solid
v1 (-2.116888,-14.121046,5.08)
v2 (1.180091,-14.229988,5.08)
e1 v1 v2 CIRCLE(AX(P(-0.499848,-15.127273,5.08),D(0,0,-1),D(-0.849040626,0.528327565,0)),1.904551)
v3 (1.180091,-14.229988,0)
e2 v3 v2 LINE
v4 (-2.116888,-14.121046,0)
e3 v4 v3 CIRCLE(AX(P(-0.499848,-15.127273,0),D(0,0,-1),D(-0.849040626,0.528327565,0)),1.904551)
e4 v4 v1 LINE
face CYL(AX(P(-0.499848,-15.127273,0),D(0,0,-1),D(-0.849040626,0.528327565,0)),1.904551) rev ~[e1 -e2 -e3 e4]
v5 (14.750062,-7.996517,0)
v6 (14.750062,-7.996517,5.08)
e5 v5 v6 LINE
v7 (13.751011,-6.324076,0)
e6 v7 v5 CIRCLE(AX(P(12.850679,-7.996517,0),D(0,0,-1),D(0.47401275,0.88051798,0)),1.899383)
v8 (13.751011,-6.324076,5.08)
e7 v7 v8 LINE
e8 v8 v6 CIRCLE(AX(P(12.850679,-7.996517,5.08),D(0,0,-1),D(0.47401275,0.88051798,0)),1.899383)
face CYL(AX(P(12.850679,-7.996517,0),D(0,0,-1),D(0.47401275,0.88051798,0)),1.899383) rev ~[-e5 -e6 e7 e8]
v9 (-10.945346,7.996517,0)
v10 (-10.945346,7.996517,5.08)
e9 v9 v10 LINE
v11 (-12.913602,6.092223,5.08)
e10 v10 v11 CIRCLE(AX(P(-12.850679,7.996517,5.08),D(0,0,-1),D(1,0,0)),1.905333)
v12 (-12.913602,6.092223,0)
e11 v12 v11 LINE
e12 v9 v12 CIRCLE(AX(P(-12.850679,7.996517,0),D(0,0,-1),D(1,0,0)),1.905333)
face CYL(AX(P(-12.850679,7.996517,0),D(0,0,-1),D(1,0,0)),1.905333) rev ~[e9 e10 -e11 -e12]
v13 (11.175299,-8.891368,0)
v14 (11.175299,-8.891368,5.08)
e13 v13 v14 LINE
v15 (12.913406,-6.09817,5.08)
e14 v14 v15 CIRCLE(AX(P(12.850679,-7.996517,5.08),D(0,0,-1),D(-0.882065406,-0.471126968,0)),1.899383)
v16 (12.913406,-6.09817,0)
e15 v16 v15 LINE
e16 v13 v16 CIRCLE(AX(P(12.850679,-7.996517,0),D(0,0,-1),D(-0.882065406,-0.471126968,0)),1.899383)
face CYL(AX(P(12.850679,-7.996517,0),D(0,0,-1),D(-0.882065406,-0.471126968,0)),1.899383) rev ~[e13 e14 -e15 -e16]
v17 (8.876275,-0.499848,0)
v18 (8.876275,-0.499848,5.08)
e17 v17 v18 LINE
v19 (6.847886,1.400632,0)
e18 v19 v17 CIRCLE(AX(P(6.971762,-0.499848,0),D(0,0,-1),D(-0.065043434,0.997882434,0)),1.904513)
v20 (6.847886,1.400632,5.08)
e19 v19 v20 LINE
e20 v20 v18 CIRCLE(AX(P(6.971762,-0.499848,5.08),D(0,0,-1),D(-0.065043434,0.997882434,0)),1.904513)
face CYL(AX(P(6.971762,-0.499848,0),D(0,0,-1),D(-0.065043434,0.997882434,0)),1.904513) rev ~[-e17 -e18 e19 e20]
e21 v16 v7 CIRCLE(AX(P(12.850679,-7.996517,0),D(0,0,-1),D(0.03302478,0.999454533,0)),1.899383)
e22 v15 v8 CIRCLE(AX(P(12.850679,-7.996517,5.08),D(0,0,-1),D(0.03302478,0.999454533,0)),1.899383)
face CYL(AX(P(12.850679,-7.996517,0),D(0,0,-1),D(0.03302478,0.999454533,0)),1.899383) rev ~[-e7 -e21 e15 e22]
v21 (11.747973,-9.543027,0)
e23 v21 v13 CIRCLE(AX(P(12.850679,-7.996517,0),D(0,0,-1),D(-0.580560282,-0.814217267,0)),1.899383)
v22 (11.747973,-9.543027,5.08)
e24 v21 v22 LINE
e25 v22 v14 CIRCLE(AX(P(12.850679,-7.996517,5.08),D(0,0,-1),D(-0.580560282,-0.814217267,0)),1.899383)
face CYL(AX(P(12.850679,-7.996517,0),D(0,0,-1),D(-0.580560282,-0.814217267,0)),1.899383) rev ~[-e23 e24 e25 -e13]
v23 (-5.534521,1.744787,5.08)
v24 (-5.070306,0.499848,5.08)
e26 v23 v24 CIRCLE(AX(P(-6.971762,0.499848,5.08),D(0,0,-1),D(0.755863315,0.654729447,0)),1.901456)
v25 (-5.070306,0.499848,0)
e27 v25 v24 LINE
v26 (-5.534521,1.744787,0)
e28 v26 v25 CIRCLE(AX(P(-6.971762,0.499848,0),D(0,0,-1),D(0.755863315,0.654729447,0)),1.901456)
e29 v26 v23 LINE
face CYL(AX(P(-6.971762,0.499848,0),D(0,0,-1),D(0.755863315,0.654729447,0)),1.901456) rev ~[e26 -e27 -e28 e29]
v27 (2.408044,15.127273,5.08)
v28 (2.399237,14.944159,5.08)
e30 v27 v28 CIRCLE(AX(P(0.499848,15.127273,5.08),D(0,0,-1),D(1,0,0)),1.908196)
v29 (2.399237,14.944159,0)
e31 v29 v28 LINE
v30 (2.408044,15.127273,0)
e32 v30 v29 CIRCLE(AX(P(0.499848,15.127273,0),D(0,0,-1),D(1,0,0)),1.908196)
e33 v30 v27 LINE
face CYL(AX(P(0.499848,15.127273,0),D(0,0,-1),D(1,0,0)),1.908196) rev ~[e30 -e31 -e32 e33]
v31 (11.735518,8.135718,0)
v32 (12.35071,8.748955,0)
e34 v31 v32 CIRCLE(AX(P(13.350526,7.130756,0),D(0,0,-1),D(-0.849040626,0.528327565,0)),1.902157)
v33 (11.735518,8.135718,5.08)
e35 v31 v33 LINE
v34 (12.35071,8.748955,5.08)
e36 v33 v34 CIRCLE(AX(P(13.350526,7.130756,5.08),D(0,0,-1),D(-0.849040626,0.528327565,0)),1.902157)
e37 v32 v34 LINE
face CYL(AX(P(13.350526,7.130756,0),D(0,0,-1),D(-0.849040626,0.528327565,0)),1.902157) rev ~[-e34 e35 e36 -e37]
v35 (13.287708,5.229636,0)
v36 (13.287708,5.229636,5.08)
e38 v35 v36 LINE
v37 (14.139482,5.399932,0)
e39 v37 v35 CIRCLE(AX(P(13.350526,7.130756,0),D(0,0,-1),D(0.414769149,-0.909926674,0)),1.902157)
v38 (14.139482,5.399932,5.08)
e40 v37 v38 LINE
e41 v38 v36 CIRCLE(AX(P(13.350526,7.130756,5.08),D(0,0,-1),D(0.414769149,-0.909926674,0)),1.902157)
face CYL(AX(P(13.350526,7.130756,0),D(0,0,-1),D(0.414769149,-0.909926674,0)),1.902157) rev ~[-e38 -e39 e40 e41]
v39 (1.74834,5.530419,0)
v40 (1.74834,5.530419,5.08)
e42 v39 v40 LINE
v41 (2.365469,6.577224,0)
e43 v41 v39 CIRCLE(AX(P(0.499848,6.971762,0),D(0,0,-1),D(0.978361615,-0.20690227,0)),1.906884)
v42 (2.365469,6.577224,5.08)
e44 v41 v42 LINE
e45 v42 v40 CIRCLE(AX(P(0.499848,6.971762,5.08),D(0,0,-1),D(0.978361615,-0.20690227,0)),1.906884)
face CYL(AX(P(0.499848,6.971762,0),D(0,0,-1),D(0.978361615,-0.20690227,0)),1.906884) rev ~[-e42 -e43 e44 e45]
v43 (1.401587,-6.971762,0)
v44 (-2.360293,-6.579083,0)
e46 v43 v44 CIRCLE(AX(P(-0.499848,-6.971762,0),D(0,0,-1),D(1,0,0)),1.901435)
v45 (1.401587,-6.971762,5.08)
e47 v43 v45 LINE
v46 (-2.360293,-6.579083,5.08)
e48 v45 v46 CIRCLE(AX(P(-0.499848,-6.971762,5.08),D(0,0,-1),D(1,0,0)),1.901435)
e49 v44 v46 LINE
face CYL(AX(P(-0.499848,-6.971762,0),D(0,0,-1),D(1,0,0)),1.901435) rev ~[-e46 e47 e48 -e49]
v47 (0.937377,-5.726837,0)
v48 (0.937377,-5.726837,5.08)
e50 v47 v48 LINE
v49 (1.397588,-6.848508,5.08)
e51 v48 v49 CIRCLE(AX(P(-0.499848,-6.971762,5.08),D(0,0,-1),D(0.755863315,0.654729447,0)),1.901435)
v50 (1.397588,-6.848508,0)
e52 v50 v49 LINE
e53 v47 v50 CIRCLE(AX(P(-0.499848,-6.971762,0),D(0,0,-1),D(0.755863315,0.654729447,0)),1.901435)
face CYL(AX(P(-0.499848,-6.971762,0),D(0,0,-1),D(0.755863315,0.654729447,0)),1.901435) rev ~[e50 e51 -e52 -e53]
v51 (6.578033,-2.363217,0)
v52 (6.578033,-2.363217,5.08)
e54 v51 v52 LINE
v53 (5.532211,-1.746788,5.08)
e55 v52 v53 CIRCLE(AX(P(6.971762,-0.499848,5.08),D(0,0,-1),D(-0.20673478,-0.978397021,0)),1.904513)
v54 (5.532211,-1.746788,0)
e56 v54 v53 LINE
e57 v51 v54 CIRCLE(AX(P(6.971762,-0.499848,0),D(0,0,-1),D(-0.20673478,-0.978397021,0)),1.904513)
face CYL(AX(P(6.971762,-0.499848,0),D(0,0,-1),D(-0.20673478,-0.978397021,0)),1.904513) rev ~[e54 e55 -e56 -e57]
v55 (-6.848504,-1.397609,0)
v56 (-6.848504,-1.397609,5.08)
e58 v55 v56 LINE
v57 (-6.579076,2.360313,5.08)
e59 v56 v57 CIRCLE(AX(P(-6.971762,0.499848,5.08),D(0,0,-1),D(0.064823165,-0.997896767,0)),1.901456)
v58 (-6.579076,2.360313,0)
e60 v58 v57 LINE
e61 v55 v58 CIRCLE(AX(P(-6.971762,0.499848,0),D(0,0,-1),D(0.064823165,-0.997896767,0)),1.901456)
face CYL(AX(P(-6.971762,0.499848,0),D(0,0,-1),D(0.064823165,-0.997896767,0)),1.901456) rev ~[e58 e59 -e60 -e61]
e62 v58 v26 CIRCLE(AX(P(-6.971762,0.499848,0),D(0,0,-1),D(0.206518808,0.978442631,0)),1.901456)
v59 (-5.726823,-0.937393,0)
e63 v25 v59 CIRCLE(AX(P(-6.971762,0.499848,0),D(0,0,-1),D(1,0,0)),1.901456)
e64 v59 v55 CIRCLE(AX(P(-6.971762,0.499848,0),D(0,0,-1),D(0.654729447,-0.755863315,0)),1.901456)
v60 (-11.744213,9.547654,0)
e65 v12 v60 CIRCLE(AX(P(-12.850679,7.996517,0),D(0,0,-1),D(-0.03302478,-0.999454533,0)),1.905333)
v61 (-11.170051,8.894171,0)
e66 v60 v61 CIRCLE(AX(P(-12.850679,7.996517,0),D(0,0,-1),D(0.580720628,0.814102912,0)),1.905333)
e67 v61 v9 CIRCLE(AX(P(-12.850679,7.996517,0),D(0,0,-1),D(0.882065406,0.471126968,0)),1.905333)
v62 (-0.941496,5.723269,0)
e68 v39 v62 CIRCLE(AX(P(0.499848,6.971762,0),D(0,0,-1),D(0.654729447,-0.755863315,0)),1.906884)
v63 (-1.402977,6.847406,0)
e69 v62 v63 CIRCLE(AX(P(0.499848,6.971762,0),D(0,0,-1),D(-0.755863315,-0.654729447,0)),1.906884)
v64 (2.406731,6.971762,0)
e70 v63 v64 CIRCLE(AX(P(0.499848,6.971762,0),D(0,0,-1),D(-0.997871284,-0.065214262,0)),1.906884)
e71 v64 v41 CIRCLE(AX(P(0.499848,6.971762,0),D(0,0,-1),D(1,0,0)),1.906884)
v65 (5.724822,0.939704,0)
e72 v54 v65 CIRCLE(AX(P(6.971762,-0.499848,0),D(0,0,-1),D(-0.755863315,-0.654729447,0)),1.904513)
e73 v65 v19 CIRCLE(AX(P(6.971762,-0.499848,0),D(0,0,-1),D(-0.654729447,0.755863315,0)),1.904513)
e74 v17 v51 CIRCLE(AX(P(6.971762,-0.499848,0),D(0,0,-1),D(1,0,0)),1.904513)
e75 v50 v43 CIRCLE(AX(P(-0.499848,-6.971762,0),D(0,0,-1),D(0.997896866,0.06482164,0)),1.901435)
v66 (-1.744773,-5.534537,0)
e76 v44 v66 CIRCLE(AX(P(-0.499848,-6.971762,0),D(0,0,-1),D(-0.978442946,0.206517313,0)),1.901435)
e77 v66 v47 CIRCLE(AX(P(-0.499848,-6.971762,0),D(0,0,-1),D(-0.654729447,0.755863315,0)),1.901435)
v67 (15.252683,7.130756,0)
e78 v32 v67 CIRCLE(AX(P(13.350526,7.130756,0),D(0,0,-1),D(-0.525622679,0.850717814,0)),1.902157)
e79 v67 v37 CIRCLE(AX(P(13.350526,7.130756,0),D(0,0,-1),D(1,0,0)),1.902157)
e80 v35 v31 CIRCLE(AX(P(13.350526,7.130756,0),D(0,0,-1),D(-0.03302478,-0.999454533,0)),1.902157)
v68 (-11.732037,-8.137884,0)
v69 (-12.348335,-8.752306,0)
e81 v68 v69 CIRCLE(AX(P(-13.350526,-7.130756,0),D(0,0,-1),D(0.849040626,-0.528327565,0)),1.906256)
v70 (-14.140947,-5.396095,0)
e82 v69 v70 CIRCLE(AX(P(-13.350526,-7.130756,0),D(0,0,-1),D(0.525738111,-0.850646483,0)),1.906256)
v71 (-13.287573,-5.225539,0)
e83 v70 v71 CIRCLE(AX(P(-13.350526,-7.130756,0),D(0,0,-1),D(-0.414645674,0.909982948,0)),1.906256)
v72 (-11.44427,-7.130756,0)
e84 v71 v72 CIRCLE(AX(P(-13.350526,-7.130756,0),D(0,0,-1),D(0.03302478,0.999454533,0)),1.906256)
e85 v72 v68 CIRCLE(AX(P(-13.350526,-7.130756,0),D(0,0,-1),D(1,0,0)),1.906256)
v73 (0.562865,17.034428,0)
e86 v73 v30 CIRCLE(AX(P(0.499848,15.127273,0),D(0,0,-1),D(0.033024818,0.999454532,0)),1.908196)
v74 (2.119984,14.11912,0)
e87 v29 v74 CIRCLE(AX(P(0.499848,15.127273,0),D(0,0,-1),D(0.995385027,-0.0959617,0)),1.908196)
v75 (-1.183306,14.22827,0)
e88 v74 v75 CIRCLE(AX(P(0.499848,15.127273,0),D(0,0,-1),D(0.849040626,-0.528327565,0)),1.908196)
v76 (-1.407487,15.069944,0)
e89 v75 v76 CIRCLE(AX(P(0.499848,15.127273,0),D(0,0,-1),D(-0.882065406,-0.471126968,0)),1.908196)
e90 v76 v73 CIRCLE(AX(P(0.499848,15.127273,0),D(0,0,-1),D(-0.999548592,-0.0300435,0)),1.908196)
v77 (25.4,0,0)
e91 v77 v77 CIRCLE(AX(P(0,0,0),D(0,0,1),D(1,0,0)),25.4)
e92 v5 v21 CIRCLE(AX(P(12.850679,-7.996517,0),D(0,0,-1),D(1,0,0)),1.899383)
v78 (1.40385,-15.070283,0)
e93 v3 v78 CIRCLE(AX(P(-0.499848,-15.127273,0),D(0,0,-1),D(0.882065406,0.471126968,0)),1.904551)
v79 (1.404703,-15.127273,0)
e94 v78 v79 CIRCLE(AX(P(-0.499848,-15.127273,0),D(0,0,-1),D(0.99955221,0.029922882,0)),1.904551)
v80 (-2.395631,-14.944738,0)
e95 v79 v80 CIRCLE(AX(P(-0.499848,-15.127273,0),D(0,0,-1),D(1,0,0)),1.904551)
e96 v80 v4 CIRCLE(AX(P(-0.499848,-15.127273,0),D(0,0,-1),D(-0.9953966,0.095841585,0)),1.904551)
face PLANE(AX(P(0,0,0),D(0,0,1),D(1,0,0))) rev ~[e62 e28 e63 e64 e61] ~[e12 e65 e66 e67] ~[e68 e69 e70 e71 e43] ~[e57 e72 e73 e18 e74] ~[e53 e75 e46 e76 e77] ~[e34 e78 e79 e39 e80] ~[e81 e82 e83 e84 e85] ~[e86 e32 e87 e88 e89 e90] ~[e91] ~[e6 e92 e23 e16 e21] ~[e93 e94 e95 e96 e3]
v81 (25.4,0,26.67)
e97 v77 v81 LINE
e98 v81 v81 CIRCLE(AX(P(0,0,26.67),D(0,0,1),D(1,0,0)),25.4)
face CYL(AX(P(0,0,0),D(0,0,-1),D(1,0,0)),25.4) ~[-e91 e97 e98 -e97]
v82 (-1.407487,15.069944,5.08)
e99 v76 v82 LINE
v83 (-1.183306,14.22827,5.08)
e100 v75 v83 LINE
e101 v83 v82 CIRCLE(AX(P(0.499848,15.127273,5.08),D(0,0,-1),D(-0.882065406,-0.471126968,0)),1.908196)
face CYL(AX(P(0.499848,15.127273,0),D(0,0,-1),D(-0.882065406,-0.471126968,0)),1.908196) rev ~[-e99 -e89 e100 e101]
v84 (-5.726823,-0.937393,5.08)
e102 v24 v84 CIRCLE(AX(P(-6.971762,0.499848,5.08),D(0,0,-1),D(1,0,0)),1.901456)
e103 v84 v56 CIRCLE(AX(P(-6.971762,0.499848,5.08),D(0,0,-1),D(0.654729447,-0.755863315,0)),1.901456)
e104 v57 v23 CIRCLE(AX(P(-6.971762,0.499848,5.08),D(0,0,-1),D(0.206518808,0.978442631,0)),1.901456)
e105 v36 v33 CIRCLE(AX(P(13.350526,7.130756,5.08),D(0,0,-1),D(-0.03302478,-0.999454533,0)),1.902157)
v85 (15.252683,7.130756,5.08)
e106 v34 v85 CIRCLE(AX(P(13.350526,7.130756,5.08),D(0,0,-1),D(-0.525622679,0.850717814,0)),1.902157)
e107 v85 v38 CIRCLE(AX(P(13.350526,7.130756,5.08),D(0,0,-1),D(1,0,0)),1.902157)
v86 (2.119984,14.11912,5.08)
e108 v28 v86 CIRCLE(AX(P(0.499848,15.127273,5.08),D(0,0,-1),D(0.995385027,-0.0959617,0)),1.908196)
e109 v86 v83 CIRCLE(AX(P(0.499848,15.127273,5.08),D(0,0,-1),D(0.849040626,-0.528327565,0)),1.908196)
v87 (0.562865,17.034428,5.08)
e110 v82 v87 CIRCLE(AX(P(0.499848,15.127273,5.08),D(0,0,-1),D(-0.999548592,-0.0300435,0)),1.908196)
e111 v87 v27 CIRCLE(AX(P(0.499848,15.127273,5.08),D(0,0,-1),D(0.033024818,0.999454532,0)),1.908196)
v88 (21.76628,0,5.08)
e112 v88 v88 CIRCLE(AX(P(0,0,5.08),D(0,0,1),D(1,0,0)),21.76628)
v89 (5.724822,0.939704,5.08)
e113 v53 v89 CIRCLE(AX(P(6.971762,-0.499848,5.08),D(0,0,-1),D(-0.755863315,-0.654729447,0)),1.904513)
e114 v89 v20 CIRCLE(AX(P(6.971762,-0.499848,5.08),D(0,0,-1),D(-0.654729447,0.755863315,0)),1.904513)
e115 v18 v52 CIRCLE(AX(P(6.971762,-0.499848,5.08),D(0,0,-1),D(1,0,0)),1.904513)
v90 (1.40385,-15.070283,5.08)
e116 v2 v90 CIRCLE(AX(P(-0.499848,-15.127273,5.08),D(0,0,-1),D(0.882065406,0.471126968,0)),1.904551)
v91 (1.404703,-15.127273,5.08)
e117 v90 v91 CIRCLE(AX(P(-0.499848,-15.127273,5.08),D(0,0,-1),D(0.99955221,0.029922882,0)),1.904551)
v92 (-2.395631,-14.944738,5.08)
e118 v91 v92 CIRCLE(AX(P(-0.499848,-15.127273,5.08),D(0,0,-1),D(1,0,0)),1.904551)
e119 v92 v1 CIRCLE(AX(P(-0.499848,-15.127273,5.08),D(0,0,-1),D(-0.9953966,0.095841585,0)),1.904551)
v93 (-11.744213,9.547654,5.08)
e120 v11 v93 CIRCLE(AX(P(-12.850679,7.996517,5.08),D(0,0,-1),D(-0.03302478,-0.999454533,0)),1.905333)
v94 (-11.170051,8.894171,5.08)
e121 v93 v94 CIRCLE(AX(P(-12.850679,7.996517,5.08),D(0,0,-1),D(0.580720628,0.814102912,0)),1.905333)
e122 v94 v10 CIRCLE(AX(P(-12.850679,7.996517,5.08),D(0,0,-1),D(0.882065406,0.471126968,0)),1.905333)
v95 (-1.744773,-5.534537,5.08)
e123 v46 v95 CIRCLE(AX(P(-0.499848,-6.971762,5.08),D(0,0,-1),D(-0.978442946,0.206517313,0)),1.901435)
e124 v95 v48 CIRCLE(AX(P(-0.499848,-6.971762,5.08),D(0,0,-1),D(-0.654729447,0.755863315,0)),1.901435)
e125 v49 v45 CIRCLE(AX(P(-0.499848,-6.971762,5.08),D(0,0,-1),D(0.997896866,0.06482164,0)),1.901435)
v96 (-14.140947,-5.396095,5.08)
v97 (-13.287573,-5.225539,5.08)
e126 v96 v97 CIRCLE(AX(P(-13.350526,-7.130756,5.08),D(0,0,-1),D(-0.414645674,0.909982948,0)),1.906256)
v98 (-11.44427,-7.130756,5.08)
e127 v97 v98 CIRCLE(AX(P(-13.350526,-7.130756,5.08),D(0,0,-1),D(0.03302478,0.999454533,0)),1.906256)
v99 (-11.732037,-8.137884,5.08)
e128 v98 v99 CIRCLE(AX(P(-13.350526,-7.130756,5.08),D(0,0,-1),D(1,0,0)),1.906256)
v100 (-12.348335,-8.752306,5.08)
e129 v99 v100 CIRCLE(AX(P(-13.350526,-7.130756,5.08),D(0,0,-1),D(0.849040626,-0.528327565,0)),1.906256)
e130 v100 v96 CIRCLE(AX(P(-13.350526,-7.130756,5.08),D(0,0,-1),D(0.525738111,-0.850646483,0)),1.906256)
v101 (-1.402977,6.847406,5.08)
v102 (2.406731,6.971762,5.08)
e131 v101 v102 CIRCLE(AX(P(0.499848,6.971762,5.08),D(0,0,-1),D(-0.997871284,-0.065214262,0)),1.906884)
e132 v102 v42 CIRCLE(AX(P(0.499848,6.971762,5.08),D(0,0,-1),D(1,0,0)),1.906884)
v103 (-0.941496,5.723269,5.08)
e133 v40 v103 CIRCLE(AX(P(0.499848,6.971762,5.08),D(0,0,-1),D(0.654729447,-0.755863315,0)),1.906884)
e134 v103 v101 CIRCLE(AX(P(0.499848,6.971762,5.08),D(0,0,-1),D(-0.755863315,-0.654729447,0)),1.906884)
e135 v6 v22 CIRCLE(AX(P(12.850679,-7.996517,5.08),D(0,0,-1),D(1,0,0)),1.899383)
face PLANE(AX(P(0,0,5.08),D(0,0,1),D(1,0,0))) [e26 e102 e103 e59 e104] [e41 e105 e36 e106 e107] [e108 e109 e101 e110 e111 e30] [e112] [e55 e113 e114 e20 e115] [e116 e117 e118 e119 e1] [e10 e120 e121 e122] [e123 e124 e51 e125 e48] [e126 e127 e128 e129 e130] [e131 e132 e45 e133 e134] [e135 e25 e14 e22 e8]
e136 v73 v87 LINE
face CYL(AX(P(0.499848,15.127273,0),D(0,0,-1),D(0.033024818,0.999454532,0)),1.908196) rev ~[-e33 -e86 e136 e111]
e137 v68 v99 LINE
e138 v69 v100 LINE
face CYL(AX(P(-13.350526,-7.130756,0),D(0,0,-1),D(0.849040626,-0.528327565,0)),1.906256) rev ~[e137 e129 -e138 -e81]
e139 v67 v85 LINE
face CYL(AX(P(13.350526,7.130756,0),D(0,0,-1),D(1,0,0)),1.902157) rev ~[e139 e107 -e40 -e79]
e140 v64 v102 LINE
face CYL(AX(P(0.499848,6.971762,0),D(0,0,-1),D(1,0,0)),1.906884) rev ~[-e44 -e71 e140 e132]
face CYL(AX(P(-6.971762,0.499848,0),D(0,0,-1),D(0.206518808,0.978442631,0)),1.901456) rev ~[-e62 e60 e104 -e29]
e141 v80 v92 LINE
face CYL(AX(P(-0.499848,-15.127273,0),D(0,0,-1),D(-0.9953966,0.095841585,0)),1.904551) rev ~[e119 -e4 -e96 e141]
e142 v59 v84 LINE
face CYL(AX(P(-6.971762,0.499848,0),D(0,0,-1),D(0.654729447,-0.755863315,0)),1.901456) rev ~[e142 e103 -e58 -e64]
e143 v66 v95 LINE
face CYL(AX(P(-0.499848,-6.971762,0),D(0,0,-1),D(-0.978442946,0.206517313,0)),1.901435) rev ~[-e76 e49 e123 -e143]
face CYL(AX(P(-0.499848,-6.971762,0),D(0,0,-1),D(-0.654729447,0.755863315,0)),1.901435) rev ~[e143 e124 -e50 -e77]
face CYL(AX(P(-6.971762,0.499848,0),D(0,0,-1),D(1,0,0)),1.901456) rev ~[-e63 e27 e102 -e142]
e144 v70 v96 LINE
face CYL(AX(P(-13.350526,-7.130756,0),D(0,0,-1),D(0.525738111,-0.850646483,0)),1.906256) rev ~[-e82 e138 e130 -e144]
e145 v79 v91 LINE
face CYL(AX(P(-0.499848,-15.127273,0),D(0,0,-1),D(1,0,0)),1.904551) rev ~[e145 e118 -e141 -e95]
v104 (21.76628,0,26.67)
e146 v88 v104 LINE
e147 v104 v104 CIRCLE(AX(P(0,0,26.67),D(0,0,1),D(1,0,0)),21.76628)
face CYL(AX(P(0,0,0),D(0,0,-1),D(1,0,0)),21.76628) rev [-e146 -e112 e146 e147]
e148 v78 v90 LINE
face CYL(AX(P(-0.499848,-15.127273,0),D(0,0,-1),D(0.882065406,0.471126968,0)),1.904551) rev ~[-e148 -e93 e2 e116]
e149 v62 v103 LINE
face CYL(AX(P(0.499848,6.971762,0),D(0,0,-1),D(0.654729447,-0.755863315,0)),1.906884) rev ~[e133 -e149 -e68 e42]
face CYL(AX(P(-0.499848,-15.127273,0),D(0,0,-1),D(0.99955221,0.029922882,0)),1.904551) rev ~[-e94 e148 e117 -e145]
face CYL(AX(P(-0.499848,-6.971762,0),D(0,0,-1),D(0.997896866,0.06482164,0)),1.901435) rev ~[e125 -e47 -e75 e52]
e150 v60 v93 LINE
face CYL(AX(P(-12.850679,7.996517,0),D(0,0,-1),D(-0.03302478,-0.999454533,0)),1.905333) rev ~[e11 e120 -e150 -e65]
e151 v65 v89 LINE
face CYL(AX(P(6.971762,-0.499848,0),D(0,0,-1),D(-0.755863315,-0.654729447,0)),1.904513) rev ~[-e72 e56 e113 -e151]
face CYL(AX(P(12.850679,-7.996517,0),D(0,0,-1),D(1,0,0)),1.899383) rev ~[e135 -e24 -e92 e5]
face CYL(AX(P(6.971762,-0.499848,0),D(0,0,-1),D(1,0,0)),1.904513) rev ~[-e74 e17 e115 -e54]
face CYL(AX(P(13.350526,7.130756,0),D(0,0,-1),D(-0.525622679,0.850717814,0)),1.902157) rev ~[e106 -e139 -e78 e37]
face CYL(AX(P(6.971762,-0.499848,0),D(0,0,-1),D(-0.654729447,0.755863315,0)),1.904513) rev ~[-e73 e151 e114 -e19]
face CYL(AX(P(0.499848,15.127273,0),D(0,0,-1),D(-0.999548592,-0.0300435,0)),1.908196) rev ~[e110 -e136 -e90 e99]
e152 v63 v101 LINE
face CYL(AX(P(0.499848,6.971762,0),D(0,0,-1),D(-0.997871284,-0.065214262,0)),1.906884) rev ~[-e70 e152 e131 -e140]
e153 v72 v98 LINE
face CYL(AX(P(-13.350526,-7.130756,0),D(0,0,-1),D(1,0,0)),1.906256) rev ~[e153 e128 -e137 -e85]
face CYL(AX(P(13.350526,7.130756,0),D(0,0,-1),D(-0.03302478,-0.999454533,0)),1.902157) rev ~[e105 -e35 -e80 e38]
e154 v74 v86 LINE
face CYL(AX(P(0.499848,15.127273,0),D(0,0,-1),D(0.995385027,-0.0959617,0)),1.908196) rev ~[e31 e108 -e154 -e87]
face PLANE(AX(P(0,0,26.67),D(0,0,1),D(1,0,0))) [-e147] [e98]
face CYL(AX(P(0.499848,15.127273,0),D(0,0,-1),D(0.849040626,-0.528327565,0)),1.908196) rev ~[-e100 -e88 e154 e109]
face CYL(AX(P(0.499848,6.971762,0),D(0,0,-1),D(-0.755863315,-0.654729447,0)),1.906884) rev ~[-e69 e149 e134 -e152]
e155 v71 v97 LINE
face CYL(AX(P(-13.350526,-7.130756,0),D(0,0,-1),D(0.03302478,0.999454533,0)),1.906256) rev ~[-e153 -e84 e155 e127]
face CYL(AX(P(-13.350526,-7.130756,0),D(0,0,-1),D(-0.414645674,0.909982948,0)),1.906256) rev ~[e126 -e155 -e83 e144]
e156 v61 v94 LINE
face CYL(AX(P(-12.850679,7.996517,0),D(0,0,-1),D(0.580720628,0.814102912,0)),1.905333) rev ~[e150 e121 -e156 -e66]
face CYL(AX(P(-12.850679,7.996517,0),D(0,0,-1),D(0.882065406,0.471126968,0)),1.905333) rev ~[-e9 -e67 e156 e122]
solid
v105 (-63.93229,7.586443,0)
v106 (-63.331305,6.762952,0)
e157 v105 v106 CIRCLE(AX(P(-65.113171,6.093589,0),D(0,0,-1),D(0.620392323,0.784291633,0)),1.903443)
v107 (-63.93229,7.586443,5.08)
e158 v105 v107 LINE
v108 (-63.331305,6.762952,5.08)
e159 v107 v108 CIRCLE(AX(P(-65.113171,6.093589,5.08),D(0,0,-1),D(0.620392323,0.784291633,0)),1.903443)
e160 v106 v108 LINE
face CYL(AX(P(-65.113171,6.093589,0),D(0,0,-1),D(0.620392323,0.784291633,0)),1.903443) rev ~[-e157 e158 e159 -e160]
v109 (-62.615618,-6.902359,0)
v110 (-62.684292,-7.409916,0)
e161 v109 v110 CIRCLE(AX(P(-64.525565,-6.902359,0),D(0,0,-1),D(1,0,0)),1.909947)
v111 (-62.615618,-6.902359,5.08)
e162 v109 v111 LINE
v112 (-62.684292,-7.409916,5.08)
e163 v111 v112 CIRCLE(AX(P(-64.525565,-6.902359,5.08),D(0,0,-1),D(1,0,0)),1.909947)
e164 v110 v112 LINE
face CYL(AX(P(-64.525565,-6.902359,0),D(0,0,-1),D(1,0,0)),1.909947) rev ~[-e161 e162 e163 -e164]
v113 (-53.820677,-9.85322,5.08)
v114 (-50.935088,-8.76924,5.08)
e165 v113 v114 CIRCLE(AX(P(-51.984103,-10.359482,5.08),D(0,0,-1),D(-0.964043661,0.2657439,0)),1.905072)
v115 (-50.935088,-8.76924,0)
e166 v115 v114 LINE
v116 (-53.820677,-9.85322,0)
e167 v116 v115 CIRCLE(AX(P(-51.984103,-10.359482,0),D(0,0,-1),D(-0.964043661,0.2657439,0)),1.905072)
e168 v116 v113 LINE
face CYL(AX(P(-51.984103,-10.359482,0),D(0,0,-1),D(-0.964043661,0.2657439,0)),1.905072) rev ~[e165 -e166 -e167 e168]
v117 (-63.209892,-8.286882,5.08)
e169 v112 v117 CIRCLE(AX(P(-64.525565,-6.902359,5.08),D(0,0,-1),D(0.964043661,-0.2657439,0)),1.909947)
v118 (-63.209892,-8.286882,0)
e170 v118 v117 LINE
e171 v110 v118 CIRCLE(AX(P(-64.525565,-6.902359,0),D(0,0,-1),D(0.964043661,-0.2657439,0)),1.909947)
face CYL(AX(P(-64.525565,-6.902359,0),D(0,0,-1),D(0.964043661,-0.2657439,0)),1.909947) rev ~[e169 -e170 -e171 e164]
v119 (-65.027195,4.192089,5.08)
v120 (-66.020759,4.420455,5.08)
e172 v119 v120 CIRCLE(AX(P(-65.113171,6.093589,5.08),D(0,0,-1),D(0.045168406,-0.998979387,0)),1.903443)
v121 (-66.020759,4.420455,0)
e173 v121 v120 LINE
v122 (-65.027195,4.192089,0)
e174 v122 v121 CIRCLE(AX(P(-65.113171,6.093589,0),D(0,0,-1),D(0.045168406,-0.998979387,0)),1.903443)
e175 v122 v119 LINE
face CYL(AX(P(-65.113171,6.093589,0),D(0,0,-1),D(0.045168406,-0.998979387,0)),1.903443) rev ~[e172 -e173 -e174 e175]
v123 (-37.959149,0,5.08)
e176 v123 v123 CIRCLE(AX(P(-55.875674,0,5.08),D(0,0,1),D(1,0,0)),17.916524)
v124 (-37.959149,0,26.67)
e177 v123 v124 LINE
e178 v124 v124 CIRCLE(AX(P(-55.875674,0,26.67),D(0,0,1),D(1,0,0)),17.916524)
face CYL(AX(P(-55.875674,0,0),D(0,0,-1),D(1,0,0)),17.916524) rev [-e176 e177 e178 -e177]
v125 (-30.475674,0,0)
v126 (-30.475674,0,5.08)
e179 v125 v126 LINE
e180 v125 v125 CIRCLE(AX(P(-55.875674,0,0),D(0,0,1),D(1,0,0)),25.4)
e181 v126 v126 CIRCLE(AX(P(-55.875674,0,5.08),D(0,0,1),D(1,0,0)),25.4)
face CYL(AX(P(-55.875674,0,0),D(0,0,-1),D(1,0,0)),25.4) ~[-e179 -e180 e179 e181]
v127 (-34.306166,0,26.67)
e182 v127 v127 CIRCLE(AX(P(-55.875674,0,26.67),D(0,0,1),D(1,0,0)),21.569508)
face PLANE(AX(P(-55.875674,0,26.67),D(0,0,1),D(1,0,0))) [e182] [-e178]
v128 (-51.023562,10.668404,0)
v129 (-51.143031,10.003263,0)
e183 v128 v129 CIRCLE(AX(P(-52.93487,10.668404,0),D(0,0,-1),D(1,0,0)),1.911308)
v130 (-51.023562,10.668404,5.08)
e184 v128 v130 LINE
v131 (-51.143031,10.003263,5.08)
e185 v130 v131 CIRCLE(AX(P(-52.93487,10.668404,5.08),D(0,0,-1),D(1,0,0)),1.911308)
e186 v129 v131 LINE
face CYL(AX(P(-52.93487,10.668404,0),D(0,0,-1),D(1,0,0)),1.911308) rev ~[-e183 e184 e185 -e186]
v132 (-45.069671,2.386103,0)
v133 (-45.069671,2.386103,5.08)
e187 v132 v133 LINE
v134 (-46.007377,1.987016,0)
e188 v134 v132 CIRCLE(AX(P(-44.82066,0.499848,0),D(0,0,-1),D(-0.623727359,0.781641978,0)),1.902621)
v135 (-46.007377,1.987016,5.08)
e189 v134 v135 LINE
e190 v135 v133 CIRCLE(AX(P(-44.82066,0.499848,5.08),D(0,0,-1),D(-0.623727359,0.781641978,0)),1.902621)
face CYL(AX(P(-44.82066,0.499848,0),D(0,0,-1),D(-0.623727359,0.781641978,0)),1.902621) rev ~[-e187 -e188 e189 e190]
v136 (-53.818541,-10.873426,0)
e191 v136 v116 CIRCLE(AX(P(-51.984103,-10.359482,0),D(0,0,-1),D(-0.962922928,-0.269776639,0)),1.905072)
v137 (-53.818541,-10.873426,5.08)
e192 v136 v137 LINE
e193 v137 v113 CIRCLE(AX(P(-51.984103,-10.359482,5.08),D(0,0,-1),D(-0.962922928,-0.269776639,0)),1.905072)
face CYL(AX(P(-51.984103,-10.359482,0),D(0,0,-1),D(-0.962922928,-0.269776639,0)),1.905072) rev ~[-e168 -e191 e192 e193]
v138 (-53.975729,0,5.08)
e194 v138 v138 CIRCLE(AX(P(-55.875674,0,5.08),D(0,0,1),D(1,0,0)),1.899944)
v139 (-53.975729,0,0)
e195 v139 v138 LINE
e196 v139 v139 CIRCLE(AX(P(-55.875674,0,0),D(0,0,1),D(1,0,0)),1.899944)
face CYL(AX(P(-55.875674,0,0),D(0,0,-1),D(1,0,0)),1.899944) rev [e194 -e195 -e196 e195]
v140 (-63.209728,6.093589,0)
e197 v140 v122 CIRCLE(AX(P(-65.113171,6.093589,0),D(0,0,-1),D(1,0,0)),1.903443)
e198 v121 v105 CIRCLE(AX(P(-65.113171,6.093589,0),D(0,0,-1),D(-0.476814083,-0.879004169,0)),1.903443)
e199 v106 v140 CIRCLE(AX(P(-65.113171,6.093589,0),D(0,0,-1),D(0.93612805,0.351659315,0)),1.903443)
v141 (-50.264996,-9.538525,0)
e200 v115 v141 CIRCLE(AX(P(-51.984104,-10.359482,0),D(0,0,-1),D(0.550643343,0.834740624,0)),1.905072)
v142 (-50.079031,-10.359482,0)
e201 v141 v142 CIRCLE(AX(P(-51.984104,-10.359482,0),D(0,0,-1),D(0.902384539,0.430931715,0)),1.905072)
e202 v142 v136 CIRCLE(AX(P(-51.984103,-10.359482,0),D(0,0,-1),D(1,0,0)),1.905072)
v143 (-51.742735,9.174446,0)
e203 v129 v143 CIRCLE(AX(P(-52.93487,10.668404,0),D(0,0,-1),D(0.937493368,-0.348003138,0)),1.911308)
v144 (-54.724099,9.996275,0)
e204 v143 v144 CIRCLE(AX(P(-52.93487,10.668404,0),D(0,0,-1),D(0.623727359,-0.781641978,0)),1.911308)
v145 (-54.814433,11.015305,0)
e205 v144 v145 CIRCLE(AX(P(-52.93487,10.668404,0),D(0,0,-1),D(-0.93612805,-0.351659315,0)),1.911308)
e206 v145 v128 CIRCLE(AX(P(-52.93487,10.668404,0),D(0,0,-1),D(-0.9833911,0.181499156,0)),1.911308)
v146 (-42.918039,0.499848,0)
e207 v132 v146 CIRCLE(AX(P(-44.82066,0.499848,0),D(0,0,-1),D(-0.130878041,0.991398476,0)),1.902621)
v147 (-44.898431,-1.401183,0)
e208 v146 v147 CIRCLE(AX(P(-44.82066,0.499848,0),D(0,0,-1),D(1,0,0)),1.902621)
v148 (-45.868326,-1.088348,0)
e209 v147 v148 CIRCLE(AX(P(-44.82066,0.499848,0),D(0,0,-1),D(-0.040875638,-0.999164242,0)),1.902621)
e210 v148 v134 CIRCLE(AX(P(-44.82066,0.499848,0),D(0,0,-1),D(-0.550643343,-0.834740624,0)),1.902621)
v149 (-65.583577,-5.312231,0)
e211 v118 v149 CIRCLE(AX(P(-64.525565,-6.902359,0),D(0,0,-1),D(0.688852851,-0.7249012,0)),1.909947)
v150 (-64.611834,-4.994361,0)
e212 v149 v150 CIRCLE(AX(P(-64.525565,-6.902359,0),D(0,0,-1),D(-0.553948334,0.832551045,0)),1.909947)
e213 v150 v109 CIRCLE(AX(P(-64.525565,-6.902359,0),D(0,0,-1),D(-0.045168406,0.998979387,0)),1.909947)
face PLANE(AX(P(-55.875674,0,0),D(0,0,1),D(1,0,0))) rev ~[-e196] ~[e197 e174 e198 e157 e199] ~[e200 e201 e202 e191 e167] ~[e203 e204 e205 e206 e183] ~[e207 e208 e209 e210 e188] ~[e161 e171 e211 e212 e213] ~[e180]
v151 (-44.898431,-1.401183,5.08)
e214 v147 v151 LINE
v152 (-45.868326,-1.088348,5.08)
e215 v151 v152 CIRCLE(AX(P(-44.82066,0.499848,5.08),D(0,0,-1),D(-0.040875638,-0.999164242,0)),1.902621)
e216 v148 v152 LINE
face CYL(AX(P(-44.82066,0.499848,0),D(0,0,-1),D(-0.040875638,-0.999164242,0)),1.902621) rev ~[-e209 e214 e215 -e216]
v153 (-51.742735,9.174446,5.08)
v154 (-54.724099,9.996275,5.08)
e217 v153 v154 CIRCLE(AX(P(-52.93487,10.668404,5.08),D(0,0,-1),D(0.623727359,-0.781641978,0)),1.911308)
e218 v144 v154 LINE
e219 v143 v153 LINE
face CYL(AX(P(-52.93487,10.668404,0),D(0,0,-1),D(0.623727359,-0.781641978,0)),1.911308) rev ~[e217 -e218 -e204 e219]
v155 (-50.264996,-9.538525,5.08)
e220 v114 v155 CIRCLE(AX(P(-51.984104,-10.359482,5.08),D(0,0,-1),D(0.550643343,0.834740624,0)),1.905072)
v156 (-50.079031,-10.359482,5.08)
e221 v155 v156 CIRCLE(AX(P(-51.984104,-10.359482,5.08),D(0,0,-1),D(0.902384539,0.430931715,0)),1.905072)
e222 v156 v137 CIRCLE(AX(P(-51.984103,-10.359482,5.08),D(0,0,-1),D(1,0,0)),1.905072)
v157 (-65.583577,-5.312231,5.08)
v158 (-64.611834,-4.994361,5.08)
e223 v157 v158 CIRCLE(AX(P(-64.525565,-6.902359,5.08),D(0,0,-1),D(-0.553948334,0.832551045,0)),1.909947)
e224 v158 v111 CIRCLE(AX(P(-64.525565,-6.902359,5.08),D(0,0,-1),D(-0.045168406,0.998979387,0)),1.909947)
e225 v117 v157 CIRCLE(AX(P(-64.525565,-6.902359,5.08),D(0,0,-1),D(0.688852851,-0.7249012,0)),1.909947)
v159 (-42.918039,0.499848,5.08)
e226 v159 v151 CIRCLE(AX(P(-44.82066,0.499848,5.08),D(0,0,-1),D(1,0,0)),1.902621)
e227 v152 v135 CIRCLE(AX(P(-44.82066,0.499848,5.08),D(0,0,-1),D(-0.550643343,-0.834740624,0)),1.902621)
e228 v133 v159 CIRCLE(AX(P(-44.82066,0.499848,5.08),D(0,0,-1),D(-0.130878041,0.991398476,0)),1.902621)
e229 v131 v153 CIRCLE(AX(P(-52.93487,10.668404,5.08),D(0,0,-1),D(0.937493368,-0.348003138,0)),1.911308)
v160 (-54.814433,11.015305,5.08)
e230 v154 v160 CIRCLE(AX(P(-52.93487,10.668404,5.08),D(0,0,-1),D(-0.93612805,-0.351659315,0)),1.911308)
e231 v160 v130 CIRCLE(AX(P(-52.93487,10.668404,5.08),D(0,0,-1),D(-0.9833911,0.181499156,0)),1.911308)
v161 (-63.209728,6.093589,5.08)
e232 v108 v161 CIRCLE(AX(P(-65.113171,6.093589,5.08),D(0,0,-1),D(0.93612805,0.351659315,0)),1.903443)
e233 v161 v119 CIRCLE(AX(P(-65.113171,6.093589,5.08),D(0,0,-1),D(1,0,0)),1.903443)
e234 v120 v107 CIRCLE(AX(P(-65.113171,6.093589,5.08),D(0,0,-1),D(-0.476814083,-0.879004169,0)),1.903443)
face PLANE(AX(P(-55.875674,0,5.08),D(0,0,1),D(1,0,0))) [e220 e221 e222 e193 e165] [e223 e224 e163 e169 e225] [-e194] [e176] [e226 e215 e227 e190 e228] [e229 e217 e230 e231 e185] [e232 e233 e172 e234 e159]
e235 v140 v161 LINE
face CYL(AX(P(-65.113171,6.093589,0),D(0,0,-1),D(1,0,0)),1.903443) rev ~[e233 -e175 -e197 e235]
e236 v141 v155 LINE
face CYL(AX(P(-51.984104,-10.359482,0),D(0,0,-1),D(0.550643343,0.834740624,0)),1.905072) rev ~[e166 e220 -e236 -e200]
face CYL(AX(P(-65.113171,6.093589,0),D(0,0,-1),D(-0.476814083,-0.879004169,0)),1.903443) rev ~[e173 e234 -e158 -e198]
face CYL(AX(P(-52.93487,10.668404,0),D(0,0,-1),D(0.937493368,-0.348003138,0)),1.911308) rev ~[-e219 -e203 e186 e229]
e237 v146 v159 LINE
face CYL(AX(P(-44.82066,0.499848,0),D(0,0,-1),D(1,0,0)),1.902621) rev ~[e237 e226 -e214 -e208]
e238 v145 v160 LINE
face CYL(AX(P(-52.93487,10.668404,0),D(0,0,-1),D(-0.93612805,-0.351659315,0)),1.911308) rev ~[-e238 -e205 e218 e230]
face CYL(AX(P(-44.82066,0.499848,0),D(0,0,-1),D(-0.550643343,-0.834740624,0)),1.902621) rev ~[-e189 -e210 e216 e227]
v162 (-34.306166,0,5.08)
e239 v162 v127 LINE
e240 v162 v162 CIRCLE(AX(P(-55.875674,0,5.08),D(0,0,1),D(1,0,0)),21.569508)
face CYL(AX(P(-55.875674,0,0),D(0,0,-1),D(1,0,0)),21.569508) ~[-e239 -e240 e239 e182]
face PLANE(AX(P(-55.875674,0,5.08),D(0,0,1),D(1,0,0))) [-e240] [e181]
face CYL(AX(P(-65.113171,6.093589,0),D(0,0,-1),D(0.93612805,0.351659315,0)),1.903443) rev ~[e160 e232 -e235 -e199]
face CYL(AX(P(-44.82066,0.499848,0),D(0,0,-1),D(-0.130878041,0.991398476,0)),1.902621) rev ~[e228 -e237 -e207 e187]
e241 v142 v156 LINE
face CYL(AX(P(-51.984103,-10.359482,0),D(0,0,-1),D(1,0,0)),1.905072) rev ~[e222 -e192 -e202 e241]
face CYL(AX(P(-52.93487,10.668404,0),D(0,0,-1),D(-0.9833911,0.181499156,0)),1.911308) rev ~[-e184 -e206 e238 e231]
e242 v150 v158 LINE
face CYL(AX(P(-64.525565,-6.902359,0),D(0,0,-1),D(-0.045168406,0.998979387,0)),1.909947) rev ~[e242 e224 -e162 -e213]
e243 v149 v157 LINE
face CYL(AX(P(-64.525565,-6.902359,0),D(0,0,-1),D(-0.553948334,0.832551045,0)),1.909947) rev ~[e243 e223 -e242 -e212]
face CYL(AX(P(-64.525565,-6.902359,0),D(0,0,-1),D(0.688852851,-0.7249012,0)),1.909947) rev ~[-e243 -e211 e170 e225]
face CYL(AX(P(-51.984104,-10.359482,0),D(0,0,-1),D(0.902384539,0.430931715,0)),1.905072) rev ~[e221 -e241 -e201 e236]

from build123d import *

# Parameters (mm, degrees)
F0_R     = 25.4
F0_R_2   = 21.5695083881
F1_DEPTH = 5.08
F0_R_3   = 17.9165244299
F0_R_4   = 1.8999444821
F0_R_5   = 21.7662801058
F2_DEPTH = 26.67


with BuildPart() as f1:
    # F0 (on Top) → F1 (new body)
    with BuildSketch(Plane.XY):
        with Locations((-55.8756738901, 0)):
            Circle(F0_R)
        with Locations((-55.8756738901, 0)):
            Circle(F0_R_2, mode=Mode.SUBTRACT)
    extrude(amount=F1_DEPTH)



with BuildPart() as f1b:
    # F0 (on Top) → F1, piece 2 (new body)
    with BuildSketch(Plane.XY):
        with Locations((-55.8756738901, 0)):
            Circle(F0_R_3)
        with BuildLine():
            ThreePointArc((-42.9180390286, 0.4998475098), (-43.5030868354, -0.8727294607), (-44.8984308655, -1.4011833506))
            ThreePointArc((-44.8984308655, -1.4011833506), (-46.6374994085, -6.0925619776), (-50.2649955772, -9.5385254663))
            ThreePointArc((-50.2649955772, -9.5385254663), (-50.1261037465, -9.9386040135), (-50.0790310525, -10.3594816039))
            ThreePointArc((-50.0790310525, -10.3594816039), (-51.7247158978, -12.2468128152), (-53.8185414385, -10.873425646))
            ThreePointArc((-53.8185414385, -10.873425646), (-58.8141191908, -10.669054242), (-63.2098923558, -8.2868823269))
            ThreePointArc((-63.2098923558, -8.2868823269), (-66.0184599642, -8.0936456242), (-65.583577107, -5.3122306364))
            ThreePointArc((-65.583577107, -5.3122306364), (-66.9308347254, -0.4965864577), (-66.0207593295, 4.420454799))
            ThreePointArc((-66.0207593295, 4.420454799), (-66.7020520383, 7.1417071115), (-63.9322896574, 7.5864432761))
            ThreePointArc((-63.9322896574, 7.5864432761), (-59.7709391989, 10.3580928446), (-54.814433277, 11.0153051508))
            ThreePointArc((-54.814433277, 11.0153051508), (-52.7606948422, 12.571759666), (-51.0235619246, 10.6684043541))
            ThreePointArc((-51.0235619246, 10.6684043541), (-51.0536663645, 10.3305117104), (-51.1430313522, 10.0032631582))
            ThreePointArc((-51.1430313522, 10.0032631582), (-47.2230641754, 6.8989509585), (-45.0696713275, 2.3861030613))
            ThreePointArc((-45.0696713275, 2.3861030613), (-43.5664286824, 1.930536291), (-42.9180390286, 0.4998475098))
        make_face(mode=Mode.SUBTRACT)
        with BuildLine():
            Line((-50.9350880397, -8.7692402404), (-45.8683256021, -1.0883475238))
            ThreePointArc((-45.8683256021, -1.0883475238), (-46.721339171, 0.4139091517), (-46.0073767864, 1.9870159444))
            Line((-46.0073767864, 1.9870159444), (-51.7427348474, 9.1744457592))
            ThreePointArc((-51.7427348474, 9.1744457592), (-53.4427884153, 8.8258199568), (-54.7240990294, 9.9962750793))
            Line((-54.7240990294, 9.9962750793), (-63.3313047494, 6.7629523896))
            ThreePointArc((-63.3313047494, 6.7629523896), (-63.2403689162, 6.43374639), (-63.2097281442, 6.0935889868))
            ThreePointArc((-63.2097281442, 6.0935889868), (-63.737172426, 4.7783997961), (-65.0271954994, 4.1920888312))
            Line((-65.0271954994, 4.1920888312), (-64.6118342647, -4.9943612776))
            ThreePointArc((-64.6118342647, -4.9943612776), (-63.2058815293, -5.5216586264), (-62.6156177027, -6.9023592468))
            ThreePointArc((-62.6156177027, -6.9023592468), (-62.6328642478, -7.1584501308), (-62.6842924156, -7.4099160882))
            Line((-62.6842924156, -7.4099160882), (-53.8206765155, -9.8532202213))
            ThreePointArc((-53.8206765155, -9.8532202213), (-52.6540399711, -8.5760898483), (-50.9350880397, -8.7692402404))
        make_face()
        with Locations((-55.8756738901, 0)):
            Circle(F0_R_4, mode=Mode.SUBTRACT)
        with BuildLine():
            Line((-63.3313047494, 6.7629523896), (-54.7240990294, 9.9962750793))
            ThreePointArc((-54.7240990294, 9.9962750793), (-54.8387121188, 10.4996339188), (-54.814433277, 11.0153051508))
            ThreePointArc((-54.814433277, 11.0153051508), (-59.7709391989, 10.3580928446), (-63.9322896574, 7.5864432761))
            ThreePointArc((-63.9322896574, 7.5864432761), (-63.5756396547, 7.2156816977), (-63.3313047494, 6.7629523896))
        make_face()
        with BuildLine():
            ThreePointArc((-46.0073767864, 1.9870159444), (-45.5657414969, 2.250510307), (-45.0696713275, 2.3861030613))
            ThreePointArc((-45.0696713275, 2.3861030613), (-47.2230641754, 6.8989509585), (-51.1430313522, 10.0032631582))
            ThreePointArc((-51.1430313522, 10.0032631582), (-51.3863999535, 9.547985215), (-51.7427348474, 9.1744457592))
            Line((-51.7427348474, 9.1744457592), (-46.0073767864, 1.9870159444))
        make_face()
        with BuildLine():
            ThreePointArc((-50.2649955772, -9.5385254663), (-46.6374994085, -6.0925619776), (-44.8984308655, -1.4011833506))
            ThreePointArc((-44.8984308655, -1.4011833506), (-45.4047134009, -1.3109115257), (-45.8683256021, -1.0883475238))
            Line((-45.8683256021, -1.0883475238), (-50.9350880397, -8.7692402404))
            ThreePointArc((-50.9350880397, -8.7692402404), (-50.5475880265, -9.1081925388), (-50.2649955772, -9.5385254663))
        make_face()
        with BuildLine():
            ThreePointArc((-53.8185414385, -10.873425646), (-53.8891717752, -10.3634685141), (-53.8206765155, -9.8532202213))
            Line((-53.8206765155, -9.8532202213), (-62.6842924156, -7.4099160882))
            ThreePointArc((-62.6842924156, -7.4099160882), (-62.8873210495, -7.8842224917), (-63.2098923558, -8.2868823269))
            ThreePointArc((-63.2098923558, -8.2868823269), (-58.8141191908, -10.669054242), (-53.8185414385, -10.873425646))
        make_face()
        with BuildLine():
            ThreePointArc((-66.0207593295, 4.420454799), (-66.9308347254, -0.4965864577), (-65.583577107, -5.3122306364))
            ThreePointArc((-65.583577107, -5.3122306364), (-65.119370689, -5.0870649374), (-64.6118342647, -4.9943612776))
            Line((-64.6118342647, -4.9943612776), (-65.0271954994, 4.1920888312))
            ThreePointArc((-65.0271954994, 4.1920888312), (-65.5395507173, 4.2385162272), (-66.0207593295, 4.420454799))
        make_face()
    extrude(amount=F1_DEPTH)


with BuildPart() as f1c:
    # F0 (on Top) → F1, piece 3 (new body)
    with BuildSketch(Plane.XY):
        Circle(F0_R_5)
        with BuildLine():
            ThreePointArc((17.0437249965, 0), (-12.249120047, -11.851059861), (0.5628653418, 17.0344282077))
            ThreePointArc((0.5628653418, 17.0344282077), (12.249120047, 11.851059861), (17.0437249965, 0))
        make_face(mode=Mode.SUBTRACT)
        with BuildLine():
            ThreePointArc((17.0437249965, 0), (12.249120047, 11.851059861), (0.5628653418, 17.0344282077))
            ThreePointArc((0.5628653418, 17.0344282077), (-12.249120047, -11.851059861), (17.0437249965, 0))
        make_face()
        with BuildLine():
            ThreePointArc((14.1394823593, 5.3999324972), (14.8844344027, 2.7455135907), (15.1355288102, 0))
            ThreePointArc((15.1355288102, 0), (14.7853483033, -3.2369287782), (13.7510105622, -6.3240762869))
            ThreePointArc((13.7510105622, -6.3240762869), (14.4812815096, -7.0224583708), (14.7500617516, -7.9965170822))
            ThreePointArc((14.7500617516, -7.9965170822), (13.7205046851, -9.6850248325), (11.7479725774, -9.5430274381))
            ThreePointArc((11.7479725774, -9.5430274381), (7.1330393359, -13.3493064313), (1.4038502627, -15.0702832357))
            ThreePointArc((1.4038502627, -15.0702832357), (1.4044898794, -15.0987748681), (1.4047031009, -15.1272728815))
            ThreePointArc((1.4047031009, -15.1272728815), (-0.5912203018, -17.0296303772), (-2.3956307115, -14.9447377313))
            ThreePointArc((-2.3956307115, -14.9447377313), (-7.9957915093, -12.8511303201), (-12.3483347465, -8.752306059))
            ThreePointArc((-12.3483347465, -8.752306059), (-15.0319691418, -8.0288445743), (-14.1409473103, -5.3960950262))
            ThreePointArc((-14.1409473103, -5.3960950262), (-15.1272575957, 0.5003099004), (-13.7535005067, 6.3186593655))
            ThreePointArc((-13.7535005067, 6.3186593655), (-14.4683838881, 9.003156974), (-11.7442127316, 9.5476541453))
            ThreePointArc((-11.7442127316, 9.5476541453), (-7.1320210827, 13.3498504726), (-1.4074873018, 15.0699439899))
            ThreePointArc((-1.4074873018, 15.0699439899), (-0.8474371078, 16.478582189), (0.5628653418, 17.0344282077))
            ThreePointArc((0.5628653418, 17.0344282077), (1.8712451677, 16.4541041252), (2.4080436961, 15.1272728815))
            ThreePointArc((2.4080436961, 15.1272728815), (2.4058408562, 15.0356101903), (2.3992374224, 14.9441591317))
            ThreePointArc((2.3992374224, 14.9441591317), (7.9990858151, 12.8490800638), (12.3507095542, 8.7489545588))
            ThreePointArc((12.3507095542, 8.7489545588), (14.276915165, 8.7920819724), (15.25268326, 7.1307557992))
            ThreePointArc((15.25268326, 7.1307557992), (14.9503574402, 6.1018042032), (14.1394823593, 5.3999324972))
        make_face(mode=Mode.SUBTRACT)
        with BuildLine():
            ThreePointArc((-12.9136020504, 6.0922234779), (-13.3466466766, 6.1568678287), (-13.7535005067, 6.3186593655))
            ThreePointArc((-13.7535005067, 6.3186593655), (-15.1272575957, 0.5003099004), (-14.1409473103, -5.3960950262))
            ThreePointArc((-14.1409473103, -5.3960950262), (-13.7241230272, -5.2614674838), (-13.2875726635, -5.2255392478))
            Line((-13.2875726635, -5.2255392478), (-12.9136020504, 6.0922234779))
        make_face()
        with BuildLine():
            Line((-11.1700506129, 8.8941707948), (-1.1833063334, 14.2282701977))
            ThreePointArc((-1.1833063334, 14.2282701977), (-1.3440629783, 14.6361447952), (-1.4074873018, 15.0699439899))
            ThreePointArc((-1.4074873018, 15.0699439899), (-7.1320210827, 13.3498504726), (-11.7442127316, 9.5476541453))
            ThreePointArc((-11.7442127316, 9.5476541453), (-11.4193389676, 9.2541178139), (-11.1700506129, 8.8941707948))
        make_face()
        with BuildLine():
            Line((12.913405553, -6.0981702314), (13.287708047, 5.2296364629))
            ThreePointArc((13.287708047, 5.2296364629), (11.6726995628, 6.2345983862), (11.735517876, 8.1357177225))
            Line((11.735517876, 8.1357177225), (2.1199835936, 14.1191202367))
            ThreePointArc((2.1199835936, 14.1191202367), (0.4368297505, 13.2201175529), (-1.1833063334, 14.2282701977))
            Line((-1.1833063334, 14.2282701977), (-11.1700506129, 8.8941707948))
            ThreePointArc((-11.1700506129, 8.8941707948), (-11.0023756104, 8.4591925552), (-10.9453459502, 7.9965170822))
            ThreePointArc((-10.9453459502, 7.9965170822), (-11.5258385171, 6.6271772589), (-12.9136020504, 6.0922234779))
            Line((-12.9136020504, 6.0922234779), (-13.2875726635, -5.2255392478))
            ThreePointArc((-13.2875726635, -5.2255392478), (-11.9805228639, -5.8052733604), (-11.4442700093, -7.1307557992))
            ThreePointArc((-11.4442700093, -7.1307557992), (-11.5176231478, -7.6544724109), (-11.7320372754, -8.1378835755))
            Line((-11.7320372754, -8.1378835755), (-2.1168883519, -14.1210462948))
            ThreePointArc((-2.1168883519, -14.1210462948), (-0.4369501448, -13.2237611399), (1.1800906973, -14.2299877266))
            Line((1.1800906973, -14.2299877266), (11.1752989012, -8.8913675898))
            ThreePointArc((11.1752989012, -8.8913675898), (11.2380256037, -6.9930207389), (12.913405553, -6.0981702314))
        make_face()
        with BuildLine():
            ThreePointArc((8.8762749903, -0.4998475098), (8.1712010171, -1.9792107249), (6.5780331416, -2.3632171711))
            ThreePointArc((6.5780331416, -2.3632171711), (4.5751603709, -5.2842428966), (1.3975881678, -6.8485080655))
            ThreePointArc((1.3975881678, -6.8485080655), (1.4005871339, -6.9101026941), (1.4015871399, -6.9717621787))
            ThreePointArc((1.4015871399, -6.9717621787), (-0.6972538547, -8.8629217337), (-2.3602928308, -6.5790830032))
            ThreePointArc((-2.3602928308, -6.5790830032), (-5.2832188869, -4.5763428197), (-6.8485037959, -1.3976090896))
            ThreePointArc((-6.8485037959, -1.3976090896), (-8.8683497002, 0.635825262), (-6.5790757926, 2.3603129295))
            ThreePointArc((-6.5790757926, 2.3603129295), (-4.5784050374, 5.2814318819), (-1.4029768879, 6.8474061704))
            ThreePointArc((-1.4029768879, 6.8474061704), (0.4376363894, 8.8776307161), (2.4067311206, 6.9717621787))
            ThreePointArc((2.4067311206, 6.9717621787), (2.3963875972, 6.7734170195), (2.3654692397, 6.5772236305))
            ThreePointArc((2.3654692397, 6.5772236305), (5.2840092295, 4.5754302391), (6.8478861246, 1.4006323697))
            ThreePointArc((6.8478861246, 1.4006323697), (8.2739229824, 0.8899532999), (8.8762749903, -0.4998475098))
        make_face(mode=Mode.SUBTRACT)
        with BuildLine():
            ThreePointArc((13.7510105622, -6.3240762869), (14.7853483033, -3.2369287782), (15.1355288102, 0))
            ThreePointArc((15.1355288102, 0), (14.8844344027, 2.7455135907), (14.1394823593, 5.3999324972))
            ThreePointArc((14.1394823593, 5.3999324972), (13.7234461499, 5.2655127315), (13.287708047, 5.2296364629))
            Line((13.287708047, 5.2296364629), (12.913405553, -6.0981702314))
            ThreePointArc((12.913405553, -6.0981702314), (13.3452784499, -6.1626614059), (13.7510105622, -6.3240762869))
        make_face()
        with BuildLine():
            ThreePointArc((11.735517876, 8.1357177225), (12.0076404086, 8.4779225269), (12.3507095542, 8.7489545588))
            ThreePointArc((12.3507095542, 8.7489545588), (7.9990858151, 12.8490800638), (2.3992374224, 14.9441591317))
            ThreePointArc((2.3992374224, 14.9441591317), (2.3073148275, 14.5154930347), (2.1199835936, 14.1191202367))
            Line((2.1199835936, 14.1191202367), (11.735517876, 8.1357177225))
        make_face()
        with BuildLine():
            ThreePointArc((-2.3956307115, -14.9447377313), (-2.3038985308, -14.5167706763), (-2.1168883519, -14.1210462948))
            Line((-2.1168883519, -14.1210462948), (-11.7320372754, -8.1378835755))
            ThreePointArc((-11.7320372754, -8.1378835755), (-12.0046546806, -8.480734576), (-12.3483347465, -8.752306059))
            ThreePointArc((-12.3483347465, -8.752306059), (-7.9957915093, -12.8511303201), (-2.3956307115, -14.9447377313))
        make_face()
        with BuildLine():
            ThreePointArc((1.4038502627, -15.0702832357), (7.1330393359, -13.3493064313), (11.7479725774, -9.5430274381))
            ThreePointArc((11.7479725774, -9.5430274381), (11.4239322352, -9.2503310641), (11.1752989012, -8.8913675898))
            Line((11.1752989012, -8.8913675898), (1.1800906973, -14.2299877266))
            ThreePointArc((1.1800906973, -14.2299877266), (1.3405697918, -14.637194128), (1.4038502627, -15.0702832357))
        make_face()
        with BuildLine():
            ThreePointArc((1.3975881678, -6.8485080655), (4.5751603709, -5.2842428966), (6.5780331416, -2.3632171711))
            ThreePointArc((6.5780331416, -2.3632171711), (6.0046916272, -2.1405618657), (5.5322108109, -1.7467881293))
            Line((5.5322108109, -1.7467881293), (0.9373771884, -5.7268369224))
            ThreePointArc((0.9373771884, -5.7268369224), (1.2592791184, -6.2500092894), (1.3975881678, -6.8485080655))
        make_face()
        with BuildLine():
            ThreePointArc((-2.3602928308, -6.5790830032), (-2.1380173554, -6.0064366977), (-1.7447727662, -5.5345374805))
            Line((-1.7447727662, -5.5345374805), (-5.7268230718, -0.9373931784))
            ThreePointArc((-5.7268230718, -0.9373931784), (-6.249999916, -1.2592981385), (-6.8485037959, -1.3976090896))
            ThreePointArc((-6.8485037959, -1.3976090896), (-5.2832188869, -4.5763428197), (-2.3602928308, -6.5790830032))
        make_face()
        with BuildLine():
            Line((-5.5345214905, 1.7447866167), (-0.9414958582, 5.7232693271))
            ThreePointArc((-0.9414958582, 5.7232693271), (-1.2641778363, 6.2475939087), (-1.4029768879, 6.8474061704))
            ThreePointArc((-1.4029768879, 6.8474061704), (-4.5784050374, 5.2814318819), (-6.5790757926, 2.3603129295))
            ThreePointArc((-6.5790757926, 2.3603129295), (-6.0064247068, 2.1380348437), (-5.5345214905, 1.7447866167))
        make_face()
        with BuildLine():
            Line((1.7483403615, 5.5304188107), (5.7248215592, 0.939703858))
            ThreePointArc((5.7248215592, 0.939703858), (6.2486450641, 1.2620465528), (6.8478861246, 1.4006323697))
            ThreePointArc((6.8478861246, 1.4006323697), (5.2840092295, 4.5754302391), (2.3654692397, 6.5772236305))
            ThreePointArc((2.3654692397, 6.5772236305), (2.1425213939, 6.003347177), (1.7483403615, 5.5304188107))
        make_face()
        with BuildLine():
            ThreePointArc((5.5322108109, -1.7467881293), (5.0721254769, -0.3636511436), (5.7248215592, 0.939703858))
            Line((5.7248215592, 0.939703858), (1.7483403615, 5.5304188107))
            ThreePointArc((1.7483403615, 5.5304188107), (0.3634816019, 5.0697607475), (-0.9414958582, 5.7232693271))
            Line((-0.9414958582, 5.7232693271), (-5.5345214905, 1.7447866167))
            ThreePointArc((-5.5345214905, 1.7447866167), (-5.1901359799, 1.1641834666), (-5.0703063744, 0.4998475098))
            ThreePointArc((-5.0703063744, 0.4998475098), (-5.242205752, -0.2901959969), (-5.7268230718, -0.9373931784))
            Line((-5.7268230718, -0.9373931784), (-1.7447727662, -5.5345374805))
            ThreePointArc((-1.7447727662, -5.5345374805), (-0.3638712704, -5.0751957577), (0.9373771884, -5.7268369224))
            Line((0.9373771884, -5.7268369224), (5.5322108109, -1.7467881293))
        make_face()
    extrude(amount=F1_DEPTH)

    # F0 (on Top) → F2, piece 2 (join)
    with BuildSketch(Plane.XY):
        Circle(F0_R)
        Circle(F0_R_5, mode=Mode.SUBTRACT)
    extrude(amount=F2_DEPTH)


with BuildPart() as f1_1:
    add(f1.part)

    add(f1b.part)  # F2 merges F1b
    # F0 (on Top) → F2 (join)
    with BuildSketch(Plane.XY):
        with Locations((-55.8756738901, 0)):
            Circle(F0_R_2)
        with Locations((-55.8756738901, 0)):
            Circle(F0_R_3, mode=Mode.SUBTRACT)
    extrude(amount=F2_DEPTH)


solid = Compound([f1c.part, f1_1.part])
